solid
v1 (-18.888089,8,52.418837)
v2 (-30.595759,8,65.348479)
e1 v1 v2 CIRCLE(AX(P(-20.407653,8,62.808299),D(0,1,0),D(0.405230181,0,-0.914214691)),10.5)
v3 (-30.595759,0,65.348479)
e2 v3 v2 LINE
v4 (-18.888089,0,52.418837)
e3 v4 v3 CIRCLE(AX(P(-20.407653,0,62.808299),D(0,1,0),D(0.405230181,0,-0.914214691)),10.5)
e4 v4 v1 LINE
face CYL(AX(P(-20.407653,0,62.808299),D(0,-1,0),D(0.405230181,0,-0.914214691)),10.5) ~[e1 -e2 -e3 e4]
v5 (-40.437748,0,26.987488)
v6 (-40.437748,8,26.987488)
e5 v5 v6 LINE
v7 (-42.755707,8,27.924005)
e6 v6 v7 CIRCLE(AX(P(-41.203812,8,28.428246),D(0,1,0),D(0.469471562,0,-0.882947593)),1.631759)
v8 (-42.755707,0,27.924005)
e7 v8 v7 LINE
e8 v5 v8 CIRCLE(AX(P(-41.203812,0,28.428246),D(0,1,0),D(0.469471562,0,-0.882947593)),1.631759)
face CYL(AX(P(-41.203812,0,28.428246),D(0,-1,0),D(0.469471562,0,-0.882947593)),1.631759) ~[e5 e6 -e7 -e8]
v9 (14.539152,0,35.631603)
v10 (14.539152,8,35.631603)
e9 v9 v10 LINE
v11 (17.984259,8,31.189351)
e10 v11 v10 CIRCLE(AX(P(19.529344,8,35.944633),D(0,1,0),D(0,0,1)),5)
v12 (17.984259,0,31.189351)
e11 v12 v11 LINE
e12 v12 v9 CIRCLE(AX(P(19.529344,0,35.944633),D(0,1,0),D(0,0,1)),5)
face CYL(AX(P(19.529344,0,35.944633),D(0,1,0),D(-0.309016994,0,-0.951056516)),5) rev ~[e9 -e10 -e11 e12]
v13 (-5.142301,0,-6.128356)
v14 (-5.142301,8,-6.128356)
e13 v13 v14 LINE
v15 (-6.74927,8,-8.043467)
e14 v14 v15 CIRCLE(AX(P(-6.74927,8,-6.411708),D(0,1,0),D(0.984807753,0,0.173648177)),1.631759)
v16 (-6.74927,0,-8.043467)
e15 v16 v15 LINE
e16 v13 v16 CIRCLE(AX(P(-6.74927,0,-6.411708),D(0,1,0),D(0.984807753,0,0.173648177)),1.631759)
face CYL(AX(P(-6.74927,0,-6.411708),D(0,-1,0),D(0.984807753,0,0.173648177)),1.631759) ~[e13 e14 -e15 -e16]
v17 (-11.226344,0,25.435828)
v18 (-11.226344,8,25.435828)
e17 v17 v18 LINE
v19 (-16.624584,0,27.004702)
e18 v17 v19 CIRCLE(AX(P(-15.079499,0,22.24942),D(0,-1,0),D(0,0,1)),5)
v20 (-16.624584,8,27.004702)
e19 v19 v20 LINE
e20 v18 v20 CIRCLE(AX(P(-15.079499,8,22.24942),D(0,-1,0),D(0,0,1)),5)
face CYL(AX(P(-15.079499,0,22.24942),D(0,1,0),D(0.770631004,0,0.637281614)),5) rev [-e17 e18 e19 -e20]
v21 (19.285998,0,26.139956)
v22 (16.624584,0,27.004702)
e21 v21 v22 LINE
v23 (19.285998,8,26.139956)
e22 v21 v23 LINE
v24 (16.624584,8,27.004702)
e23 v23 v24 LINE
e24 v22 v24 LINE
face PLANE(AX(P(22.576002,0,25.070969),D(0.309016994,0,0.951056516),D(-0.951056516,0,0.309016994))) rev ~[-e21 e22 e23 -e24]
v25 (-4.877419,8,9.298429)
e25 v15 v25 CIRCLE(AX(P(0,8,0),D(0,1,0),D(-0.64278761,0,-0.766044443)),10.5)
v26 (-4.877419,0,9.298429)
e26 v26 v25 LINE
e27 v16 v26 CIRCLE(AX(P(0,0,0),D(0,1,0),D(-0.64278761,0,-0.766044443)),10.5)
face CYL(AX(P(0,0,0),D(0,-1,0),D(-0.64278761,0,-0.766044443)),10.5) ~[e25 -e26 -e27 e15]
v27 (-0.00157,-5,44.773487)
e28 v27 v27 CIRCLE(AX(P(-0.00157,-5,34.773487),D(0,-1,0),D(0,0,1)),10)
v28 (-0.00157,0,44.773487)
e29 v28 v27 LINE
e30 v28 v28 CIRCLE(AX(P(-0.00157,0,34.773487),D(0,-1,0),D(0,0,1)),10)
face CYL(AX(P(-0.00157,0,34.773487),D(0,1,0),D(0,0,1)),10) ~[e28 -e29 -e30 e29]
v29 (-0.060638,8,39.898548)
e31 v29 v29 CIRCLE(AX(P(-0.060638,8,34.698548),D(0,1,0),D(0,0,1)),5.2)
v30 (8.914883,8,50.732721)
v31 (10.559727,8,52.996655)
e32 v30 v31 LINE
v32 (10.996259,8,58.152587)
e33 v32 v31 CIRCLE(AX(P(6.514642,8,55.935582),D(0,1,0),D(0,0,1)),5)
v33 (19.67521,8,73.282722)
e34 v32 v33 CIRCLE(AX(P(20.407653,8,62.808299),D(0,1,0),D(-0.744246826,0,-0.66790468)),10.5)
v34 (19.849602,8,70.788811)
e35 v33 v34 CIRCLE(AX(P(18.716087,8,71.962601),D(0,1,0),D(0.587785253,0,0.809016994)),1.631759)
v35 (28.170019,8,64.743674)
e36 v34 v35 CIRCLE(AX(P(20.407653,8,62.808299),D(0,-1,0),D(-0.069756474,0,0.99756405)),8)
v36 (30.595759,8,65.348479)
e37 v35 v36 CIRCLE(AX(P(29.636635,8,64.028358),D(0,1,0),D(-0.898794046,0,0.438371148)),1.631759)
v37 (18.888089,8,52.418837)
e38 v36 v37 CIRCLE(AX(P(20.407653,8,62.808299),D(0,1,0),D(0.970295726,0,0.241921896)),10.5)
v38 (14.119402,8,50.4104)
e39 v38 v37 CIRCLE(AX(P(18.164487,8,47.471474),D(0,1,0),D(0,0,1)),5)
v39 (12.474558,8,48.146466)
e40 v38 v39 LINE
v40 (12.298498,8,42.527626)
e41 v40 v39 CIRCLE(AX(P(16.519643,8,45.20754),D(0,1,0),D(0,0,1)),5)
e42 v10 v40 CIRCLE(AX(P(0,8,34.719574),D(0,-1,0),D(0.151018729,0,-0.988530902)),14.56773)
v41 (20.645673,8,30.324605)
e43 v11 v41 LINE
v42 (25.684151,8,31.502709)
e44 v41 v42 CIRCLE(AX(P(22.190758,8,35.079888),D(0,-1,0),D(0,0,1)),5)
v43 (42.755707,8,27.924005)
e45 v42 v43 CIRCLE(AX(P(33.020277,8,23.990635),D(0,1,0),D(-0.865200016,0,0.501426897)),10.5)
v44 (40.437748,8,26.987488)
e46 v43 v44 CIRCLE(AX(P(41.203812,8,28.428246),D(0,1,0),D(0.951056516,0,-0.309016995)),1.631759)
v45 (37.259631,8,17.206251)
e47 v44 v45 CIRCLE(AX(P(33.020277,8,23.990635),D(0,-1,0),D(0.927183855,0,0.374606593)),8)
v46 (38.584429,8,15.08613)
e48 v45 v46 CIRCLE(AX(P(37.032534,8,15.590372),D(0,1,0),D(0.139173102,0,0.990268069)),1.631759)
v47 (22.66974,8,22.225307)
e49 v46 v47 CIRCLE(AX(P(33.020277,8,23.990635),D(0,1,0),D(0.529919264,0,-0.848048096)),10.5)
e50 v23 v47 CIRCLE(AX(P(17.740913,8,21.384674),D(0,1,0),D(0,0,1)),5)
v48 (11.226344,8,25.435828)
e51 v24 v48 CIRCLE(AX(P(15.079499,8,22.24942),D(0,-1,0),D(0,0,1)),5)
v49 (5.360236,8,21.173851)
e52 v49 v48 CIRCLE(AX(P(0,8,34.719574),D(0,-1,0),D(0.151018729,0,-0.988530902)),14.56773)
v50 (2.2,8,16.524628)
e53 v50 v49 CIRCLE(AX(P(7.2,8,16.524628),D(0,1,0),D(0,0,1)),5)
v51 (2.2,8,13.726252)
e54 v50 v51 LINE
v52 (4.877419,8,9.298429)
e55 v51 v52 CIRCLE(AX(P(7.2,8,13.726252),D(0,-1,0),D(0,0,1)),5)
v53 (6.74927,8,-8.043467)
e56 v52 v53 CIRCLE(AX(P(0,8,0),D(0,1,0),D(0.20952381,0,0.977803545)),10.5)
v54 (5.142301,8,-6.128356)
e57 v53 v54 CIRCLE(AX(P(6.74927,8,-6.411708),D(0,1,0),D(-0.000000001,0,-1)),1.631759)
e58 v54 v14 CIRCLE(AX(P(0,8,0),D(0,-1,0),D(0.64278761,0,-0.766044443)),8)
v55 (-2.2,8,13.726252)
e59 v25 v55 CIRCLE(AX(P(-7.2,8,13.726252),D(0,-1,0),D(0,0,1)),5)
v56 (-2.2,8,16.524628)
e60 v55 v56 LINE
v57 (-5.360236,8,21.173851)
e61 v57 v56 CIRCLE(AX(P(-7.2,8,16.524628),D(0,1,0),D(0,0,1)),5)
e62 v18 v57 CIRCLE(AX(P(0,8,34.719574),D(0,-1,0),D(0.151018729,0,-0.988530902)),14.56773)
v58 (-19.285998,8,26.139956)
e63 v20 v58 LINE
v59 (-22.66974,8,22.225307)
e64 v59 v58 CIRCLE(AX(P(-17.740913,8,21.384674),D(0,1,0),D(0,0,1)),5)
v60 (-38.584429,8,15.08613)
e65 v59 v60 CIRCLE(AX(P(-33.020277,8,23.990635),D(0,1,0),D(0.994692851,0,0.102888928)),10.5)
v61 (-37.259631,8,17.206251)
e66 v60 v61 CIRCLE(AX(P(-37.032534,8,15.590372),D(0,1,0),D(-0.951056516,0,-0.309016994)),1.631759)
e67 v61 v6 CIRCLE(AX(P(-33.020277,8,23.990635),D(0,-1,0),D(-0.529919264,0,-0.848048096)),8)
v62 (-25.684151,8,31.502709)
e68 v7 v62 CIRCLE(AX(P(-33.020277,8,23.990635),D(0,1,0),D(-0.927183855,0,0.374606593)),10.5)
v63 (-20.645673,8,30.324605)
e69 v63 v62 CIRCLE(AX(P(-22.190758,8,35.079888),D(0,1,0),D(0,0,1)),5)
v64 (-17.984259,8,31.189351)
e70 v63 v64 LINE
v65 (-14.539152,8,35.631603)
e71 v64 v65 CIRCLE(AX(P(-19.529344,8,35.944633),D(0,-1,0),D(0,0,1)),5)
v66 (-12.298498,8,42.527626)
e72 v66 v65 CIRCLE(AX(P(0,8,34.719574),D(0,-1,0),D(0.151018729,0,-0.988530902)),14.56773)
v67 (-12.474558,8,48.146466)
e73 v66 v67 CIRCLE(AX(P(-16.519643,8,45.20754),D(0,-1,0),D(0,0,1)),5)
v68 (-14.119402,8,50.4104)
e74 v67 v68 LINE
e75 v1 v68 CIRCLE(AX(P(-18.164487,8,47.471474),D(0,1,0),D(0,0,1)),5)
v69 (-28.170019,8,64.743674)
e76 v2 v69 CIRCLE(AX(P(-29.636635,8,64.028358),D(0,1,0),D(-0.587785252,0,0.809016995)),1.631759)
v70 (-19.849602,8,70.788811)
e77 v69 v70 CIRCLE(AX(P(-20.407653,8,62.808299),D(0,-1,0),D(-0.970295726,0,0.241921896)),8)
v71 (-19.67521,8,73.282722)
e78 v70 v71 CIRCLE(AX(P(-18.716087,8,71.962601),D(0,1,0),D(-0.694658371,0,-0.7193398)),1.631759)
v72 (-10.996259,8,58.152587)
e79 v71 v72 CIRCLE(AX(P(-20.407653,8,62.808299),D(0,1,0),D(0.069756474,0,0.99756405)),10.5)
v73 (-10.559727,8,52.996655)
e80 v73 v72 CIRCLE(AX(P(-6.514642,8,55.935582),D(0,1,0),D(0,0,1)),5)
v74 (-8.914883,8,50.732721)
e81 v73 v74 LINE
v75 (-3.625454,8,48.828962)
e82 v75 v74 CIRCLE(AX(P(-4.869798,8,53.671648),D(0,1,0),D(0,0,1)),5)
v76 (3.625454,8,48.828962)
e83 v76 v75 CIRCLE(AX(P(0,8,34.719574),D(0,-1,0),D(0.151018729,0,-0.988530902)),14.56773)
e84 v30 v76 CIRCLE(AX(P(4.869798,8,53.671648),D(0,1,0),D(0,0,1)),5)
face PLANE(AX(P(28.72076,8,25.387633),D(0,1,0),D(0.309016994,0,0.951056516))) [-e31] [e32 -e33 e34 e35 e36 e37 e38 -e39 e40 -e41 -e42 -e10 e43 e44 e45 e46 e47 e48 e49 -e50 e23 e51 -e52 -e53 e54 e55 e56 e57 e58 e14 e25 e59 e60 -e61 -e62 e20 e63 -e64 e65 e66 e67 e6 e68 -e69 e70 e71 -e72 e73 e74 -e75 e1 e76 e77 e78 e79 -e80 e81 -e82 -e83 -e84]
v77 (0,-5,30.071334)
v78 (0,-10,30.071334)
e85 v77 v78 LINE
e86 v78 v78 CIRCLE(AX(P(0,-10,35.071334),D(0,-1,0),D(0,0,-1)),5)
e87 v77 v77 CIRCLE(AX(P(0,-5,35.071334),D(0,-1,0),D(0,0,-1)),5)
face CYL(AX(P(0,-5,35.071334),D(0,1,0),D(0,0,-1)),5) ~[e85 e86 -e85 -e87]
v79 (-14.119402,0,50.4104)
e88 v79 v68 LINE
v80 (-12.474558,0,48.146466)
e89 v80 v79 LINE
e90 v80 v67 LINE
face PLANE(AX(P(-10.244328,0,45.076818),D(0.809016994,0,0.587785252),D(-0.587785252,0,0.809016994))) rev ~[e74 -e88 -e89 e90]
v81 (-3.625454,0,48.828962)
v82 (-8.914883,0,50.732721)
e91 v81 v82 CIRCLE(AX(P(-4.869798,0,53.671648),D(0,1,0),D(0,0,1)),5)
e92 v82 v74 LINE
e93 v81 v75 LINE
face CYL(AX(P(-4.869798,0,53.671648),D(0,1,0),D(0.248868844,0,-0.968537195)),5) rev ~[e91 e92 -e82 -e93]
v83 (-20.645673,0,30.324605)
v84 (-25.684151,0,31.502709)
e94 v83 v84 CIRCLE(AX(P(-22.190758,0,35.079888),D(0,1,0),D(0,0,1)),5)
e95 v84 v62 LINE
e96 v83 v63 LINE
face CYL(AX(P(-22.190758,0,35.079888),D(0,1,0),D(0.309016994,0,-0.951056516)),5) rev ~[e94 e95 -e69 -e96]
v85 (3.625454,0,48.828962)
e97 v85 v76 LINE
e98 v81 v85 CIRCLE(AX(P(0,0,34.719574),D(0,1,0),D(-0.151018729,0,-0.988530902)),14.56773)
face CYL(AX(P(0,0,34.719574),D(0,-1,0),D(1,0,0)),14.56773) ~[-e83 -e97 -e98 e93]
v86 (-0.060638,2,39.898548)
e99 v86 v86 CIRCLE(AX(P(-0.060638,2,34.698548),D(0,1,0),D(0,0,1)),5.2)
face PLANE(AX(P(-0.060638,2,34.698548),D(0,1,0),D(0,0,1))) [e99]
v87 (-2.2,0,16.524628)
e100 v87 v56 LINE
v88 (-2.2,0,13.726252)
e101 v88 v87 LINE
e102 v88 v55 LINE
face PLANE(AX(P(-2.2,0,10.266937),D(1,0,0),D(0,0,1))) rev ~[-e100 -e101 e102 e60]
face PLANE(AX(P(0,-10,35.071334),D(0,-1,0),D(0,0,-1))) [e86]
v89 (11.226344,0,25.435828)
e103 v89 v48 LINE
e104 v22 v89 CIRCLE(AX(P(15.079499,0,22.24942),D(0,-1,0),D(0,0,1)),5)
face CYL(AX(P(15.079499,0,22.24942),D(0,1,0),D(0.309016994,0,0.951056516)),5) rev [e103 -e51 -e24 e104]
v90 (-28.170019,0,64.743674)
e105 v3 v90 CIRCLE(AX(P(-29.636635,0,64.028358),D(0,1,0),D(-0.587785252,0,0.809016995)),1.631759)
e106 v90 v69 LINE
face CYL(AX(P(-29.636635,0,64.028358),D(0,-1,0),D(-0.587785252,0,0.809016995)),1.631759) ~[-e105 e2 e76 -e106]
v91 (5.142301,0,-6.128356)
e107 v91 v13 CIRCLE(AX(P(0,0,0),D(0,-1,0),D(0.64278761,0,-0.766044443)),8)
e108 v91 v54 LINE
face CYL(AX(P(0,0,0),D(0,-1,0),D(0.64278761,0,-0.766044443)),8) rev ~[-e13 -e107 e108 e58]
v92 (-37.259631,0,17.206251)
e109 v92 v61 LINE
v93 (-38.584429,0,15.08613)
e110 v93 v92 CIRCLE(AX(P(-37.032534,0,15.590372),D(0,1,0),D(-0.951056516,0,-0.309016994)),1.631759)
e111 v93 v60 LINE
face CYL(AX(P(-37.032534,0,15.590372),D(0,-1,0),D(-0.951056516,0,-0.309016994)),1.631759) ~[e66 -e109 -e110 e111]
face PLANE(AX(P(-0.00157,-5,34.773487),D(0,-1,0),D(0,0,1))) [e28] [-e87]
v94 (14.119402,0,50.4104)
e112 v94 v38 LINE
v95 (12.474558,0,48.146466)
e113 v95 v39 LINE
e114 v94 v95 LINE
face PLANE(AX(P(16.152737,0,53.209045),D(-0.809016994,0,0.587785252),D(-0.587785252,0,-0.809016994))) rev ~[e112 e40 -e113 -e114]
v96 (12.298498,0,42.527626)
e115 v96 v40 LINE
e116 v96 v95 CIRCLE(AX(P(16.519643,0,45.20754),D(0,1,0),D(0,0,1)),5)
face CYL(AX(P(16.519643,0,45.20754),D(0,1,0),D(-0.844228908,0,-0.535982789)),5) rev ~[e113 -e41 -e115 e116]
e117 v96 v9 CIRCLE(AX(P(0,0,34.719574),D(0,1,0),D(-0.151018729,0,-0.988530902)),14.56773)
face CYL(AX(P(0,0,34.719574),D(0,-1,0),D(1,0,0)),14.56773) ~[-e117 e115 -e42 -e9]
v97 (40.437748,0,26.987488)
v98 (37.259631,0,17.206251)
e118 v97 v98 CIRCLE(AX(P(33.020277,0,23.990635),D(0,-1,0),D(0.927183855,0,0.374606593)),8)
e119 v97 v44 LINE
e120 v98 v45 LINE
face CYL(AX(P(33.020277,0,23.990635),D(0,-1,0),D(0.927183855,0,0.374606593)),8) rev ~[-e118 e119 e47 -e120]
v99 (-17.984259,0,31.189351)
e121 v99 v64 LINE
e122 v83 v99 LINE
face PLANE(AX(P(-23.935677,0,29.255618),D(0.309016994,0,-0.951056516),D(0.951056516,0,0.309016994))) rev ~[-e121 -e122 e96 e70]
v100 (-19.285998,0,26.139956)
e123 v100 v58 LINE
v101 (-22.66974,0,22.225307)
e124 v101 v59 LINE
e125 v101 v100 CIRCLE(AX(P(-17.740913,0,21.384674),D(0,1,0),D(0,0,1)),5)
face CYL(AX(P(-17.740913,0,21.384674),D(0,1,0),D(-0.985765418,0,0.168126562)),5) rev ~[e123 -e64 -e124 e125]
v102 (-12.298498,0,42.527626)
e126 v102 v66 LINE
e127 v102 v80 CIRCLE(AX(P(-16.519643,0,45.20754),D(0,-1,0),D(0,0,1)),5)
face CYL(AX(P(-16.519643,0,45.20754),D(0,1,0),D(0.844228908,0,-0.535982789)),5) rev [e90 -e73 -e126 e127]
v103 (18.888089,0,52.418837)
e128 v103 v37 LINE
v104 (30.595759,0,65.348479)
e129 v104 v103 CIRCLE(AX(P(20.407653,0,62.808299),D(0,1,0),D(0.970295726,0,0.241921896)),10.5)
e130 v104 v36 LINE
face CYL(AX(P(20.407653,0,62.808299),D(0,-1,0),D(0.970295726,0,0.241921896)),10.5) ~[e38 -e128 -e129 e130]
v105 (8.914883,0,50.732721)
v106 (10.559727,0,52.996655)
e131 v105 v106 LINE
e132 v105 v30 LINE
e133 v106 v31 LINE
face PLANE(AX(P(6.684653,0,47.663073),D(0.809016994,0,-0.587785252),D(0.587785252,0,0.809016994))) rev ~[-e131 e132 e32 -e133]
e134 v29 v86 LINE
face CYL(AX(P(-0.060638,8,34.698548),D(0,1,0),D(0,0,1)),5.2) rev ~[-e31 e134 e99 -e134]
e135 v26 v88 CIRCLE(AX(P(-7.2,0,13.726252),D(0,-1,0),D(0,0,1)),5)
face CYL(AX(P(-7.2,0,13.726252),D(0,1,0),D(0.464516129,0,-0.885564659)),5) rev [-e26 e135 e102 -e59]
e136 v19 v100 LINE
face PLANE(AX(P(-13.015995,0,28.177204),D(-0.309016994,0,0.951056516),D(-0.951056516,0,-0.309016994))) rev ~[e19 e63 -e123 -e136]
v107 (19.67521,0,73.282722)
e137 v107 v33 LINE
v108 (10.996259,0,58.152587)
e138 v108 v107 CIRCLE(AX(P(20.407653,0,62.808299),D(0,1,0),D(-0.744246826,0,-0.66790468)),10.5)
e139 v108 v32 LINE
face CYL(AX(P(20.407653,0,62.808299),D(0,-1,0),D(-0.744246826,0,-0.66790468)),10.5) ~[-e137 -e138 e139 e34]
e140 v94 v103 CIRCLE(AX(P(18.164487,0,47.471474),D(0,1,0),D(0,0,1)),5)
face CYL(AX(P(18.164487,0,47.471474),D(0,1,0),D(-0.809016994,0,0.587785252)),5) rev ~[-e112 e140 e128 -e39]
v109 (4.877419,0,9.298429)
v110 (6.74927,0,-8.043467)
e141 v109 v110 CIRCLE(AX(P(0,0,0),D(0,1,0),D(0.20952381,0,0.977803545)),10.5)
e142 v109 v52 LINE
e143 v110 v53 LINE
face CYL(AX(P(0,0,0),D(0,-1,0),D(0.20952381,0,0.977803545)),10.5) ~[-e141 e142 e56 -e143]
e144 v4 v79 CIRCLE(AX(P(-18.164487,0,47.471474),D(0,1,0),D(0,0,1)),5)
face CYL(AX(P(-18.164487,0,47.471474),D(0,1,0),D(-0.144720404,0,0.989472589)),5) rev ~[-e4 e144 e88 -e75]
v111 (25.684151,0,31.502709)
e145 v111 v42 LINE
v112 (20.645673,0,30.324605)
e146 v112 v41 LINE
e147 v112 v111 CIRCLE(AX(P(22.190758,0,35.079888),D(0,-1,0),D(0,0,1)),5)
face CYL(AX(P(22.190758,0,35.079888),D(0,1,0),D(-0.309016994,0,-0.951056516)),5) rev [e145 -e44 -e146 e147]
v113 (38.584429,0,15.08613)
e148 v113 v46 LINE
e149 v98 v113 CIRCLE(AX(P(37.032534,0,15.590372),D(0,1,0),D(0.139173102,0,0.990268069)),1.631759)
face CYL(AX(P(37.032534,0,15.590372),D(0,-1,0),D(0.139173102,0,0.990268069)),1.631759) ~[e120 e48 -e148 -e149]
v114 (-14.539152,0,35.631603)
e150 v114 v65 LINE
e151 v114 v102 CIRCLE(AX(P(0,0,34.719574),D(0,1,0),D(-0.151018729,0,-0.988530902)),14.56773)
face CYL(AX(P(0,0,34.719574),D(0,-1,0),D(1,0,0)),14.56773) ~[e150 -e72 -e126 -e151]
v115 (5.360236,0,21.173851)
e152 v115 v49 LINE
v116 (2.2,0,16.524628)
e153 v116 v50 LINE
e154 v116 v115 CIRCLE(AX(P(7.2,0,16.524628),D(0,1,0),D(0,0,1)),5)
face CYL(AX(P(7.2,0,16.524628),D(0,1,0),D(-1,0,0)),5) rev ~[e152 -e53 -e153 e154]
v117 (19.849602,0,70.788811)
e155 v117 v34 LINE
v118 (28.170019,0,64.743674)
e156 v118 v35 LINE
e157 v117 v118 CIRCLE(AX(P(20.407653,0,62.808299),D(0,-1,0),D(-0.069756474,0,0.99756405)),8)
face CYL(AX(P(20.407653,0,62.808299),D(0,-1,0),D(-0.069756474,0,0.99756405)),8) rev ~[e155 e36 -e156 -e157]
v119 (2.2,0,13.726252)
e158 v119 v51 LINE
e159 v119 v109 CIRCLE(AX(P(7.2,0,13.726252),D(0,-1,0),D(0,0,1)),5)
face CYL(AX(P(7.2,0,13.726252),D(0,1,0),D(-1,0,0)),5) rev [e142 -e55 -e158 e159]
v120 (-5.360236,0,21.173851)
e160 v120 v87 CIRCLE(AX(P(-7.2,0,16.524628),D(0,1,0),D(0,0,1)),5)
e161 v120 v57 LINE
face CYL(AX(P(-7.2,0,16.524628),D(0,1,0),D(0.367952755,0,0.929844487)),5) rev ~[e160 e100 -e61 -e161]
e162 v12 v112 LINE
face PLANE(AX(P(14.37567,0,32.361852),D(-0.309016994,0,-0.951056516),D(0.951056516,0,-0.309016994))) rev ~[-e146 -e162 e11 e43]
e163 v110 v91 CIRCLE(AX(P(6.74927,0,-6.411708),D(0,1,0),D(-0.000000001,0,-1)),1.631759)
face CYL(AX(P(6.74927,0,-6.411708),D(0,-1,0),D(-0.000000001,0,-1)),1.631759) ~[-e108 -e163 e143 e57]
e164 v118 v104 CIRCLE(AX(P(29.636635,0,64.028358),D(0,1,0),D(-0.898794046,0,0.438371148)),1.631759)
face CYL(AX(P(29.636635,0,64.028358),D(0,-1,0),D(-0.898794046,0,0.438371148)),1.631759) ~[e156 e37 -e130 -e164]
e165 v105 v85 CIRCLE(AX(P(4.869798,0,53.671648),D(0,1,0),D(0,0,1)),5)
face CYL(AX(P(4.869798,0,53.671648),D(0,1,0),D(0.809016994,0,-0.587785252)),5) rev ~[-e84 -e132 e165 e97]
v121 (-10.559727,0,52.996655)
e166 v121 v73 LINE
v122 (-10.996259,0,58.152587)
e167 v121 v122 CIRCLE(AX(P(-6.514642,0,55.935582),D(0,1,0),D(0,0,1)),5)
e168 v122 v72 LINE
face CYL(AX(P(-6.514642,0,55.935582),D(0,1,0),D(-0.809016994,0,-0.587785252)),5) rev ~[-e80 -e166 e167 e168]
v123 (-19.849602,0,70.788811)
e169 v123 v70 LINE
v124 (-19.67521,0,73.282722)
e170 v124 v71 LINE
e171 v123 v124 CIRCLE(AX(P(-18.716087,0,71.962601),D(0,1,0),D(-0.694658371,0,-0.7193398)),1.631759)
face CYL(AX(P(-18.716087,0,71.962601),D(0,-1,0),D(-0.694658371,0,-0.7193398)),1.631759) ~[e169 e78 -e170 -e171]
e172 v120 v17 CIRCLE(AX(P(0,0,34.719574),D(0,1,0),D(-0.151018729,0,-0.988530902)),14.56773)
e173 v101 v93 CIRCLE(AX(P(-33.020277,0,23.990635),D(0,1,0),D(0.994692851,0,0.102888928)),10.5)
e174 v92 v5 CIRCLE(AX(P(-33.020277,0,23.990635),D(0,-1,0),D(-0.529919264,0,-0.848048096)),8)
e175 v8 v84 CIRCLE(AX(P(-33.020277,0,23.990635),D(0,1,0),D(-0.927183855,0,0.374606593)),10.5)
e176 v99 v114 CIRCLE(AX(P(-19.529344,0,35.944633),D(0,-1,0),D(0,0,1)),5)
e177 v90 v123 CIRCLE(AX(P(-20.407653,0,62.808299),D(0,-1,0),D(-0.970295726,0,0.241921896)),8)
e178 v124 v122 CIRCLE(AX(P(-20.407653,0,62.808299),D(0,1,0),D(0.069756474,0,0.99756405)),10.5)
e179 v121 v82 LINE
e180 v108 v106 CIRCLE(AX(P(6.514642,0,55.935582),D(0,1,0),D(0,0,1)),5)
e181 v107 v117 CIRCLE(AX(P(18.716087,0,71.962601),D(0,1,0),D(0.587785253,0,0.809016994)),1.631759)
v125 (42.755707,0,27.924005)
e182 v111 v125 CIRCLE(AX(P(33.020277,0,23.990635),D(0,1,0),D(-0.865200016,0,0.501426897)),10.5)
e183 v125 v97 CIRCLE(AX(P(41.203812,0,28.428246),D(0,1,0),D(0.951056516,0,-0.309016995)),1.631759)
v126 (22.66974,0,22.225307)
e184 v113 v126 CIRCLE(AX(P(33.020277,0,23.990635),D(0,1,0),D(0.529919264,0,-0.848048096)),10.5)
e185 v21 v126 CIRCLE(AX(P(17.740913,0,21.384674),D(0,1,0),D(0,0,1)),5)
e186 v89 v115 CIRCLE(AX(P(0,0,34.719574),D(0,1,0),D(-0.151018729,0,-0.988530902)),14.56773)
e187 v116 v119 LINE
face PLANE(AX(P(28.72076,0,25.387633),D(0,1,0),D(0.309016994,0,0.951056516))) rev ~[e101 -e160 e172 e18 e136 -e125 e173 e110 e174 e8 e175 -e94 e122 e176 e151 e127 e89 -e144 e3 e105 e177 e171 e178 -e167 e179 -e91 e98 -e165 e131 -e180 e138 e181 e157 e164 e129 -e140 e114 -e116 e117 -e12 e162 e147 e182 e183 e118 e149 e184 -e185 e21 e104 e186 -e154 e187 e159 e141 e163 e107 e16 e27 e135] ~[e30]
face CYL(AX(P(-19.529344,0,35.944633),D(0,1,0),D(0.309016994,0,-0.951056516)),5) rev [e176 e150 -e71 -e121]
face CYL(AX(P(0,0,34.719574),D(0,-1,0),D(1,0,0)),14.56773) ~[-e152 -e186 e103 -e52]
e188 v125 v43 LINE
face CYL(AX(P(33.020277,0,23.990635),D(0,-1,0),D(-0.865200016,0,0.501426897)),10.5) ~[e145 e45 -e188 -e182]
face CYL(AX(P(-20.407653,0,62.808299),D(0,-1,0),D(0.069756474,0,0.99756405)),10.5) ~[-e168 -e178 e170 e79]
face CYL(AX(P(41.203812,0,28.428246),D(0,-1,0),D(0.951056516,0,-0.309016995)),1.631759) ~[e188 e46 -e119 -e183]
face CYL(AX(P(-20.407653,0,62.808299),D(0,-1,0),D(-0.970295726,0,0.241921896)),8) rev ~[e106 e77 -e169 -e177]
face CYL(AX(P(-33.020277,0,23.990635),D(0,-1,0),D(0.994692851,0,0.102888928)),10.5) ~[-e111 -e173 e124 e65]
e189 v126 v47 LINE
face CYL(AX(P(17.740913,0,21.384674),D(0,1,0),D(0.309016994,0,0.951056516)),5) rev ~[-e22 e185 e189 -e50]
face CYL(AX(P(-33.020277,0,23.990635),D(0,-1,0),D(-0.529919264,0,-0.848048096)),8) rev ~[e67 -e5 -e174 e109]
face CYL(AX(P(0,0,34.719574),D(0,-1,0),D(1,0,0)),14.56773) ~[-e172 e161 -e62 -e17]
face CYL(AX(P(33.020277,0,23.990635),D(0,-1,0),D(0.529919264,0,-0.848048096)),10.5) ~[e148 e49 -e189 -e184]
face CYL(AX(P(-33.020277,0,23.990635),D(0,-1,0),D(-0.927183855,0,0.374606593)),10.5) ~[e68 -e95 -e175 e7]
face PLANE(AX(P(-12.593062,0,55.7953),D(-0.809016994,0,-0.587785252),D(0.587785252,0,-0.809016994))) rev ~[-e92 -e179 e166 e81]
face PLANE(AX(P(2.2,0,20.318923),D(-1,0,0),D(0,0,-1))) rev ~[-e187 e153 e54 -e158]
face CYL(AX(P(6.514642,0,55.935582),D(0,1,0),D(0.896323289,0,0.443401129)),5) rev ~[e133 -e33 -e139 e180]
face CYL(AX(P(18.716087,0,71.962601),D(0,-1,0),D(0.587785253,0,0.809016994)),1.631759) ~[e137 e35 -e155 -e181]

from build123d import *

# Parameters (mm, degrees)
BOSS_EXTRU_1_DEPTH                 = 8
ESQUISSE5_R                        = 14.567729557
BOSS_EXTRU_2_DEPTH                 = 8
CONG_1_R                           = 5
CONG_2_R                           = 5
R_P_TITION_CIRCULAIRE8_COUNT       = 5
CONG_1_OF_R_P_TITION_CIRCULAIRE8_R = 5
CONG_2_OF_R_P_TITION_CIRCULAIRE8_R = 5
ESQUISSE9_R                        = 10
BOSS_EXTRU_4_DEPTH                 = 5
ESQUISSE10_R                       = 5
BOSS_EXTRU_5_DEPTH                 = 5
ESQUISSE12_R                       = 5.2
ENL_V_MAT_EXTRU_3_DEPTH            = 6


with BuildPart() as part:
    # Esquisse4 → Boss.-Extru.1 (new body)
    with BuildSketch(Plane(origin=(0, 0, 0), x_dir=(1, 0, 0), z_dir=(0, 1, 0))):
        with BuildLine():
            Line((2.2, -20.318922986), (2.2, -10.266937226))
            ThreePointArc((2.2, -10.266937226), (10.190195312, -2.531781884), (6.749269902, 8.043466653))
            ThreePointArc((6.749269902, 8.043466653), (5.499269902, 7.46058208), (5.142300877, 6.128355545))
            ThreePointArc((5.142300877, 6.128355545), (0, -8), (-5.142300877, 6.128355545))
            ThreePointArc((-5.142300877, 6.128355545), (-5.499269902, 7.46058208), (-6.749269902, 8.043466653))
            ThreePointArc((-6.749269902, 8.043466653), (-10.190195312, -2.531781884), (-2.2, -10.266937226))
            Line((-2.2, -10.266937226), (-2.2, -20.318922986))
            ThreePointArc((-2.2, -20.318922986), (0, -20.179612502), (2.2, -20.318922986))
        make_face()
    boss_extru_1 = extrude(amount=BOSS_EXTRU_1_DEPTH)

    # Esquisse5 → Boss.-Extru.2 (add)
    with BuildSketch(Plane(origin=(0, 0, 0), x_dir=(1, 0, 0), z_dir=(0, 1, 0))):
        with Locations((0, -34.71957382)):
            Circle(ESQUISSE5_R)
    extrude(amount=BOSS_EXTRU_2_DEPTH)

    # Congé1
    cong_1_edges = [part.edges().sort_by_distance(p)[0] for p in [
        (2.2, 4, 10.266937226),
        (-2.2, 4, 10.266937226),
    ]]
    fillet(cong_1_edges, radius=CONG_1_R)

    # Congé2
    cong_2_edges = [part.edges().sort_by_distance(p)[0] for p in [
        (2.2, 4, 20.318922986),
        (-2.2, 4, 20.318922986),
    ]]
    fillet(cong_2_edges, radius=CONG_2_R)

    # Répétition circulaire8: Boss.-Extru.1 ×5 about axis
    r_p_tition_circulaire8_axis = Axis((0, 0, 34.71957382), (0, 1, 0))
    for i in range(1, R_P_TITION_CIRCULAIRE8_COUNT):
        add(boss_extru_1.rotate(r_p_tition_circulaire8_axis, i * 360 / R_P_TITION_CIRCULAIRE8_COUNT))

    # Congé1 of Répétition circulaire8
    cong_1_of_r_p_tition_circulaire8_edges = [part.edges().sort_by_distance(p)[0] for p in [
        (-22.576001986, 4, 25.070969219),
        (-23.935676761, 4, 29.255617891),
        (-16.152736557, 4, 53.209044827),
        (-12.593061782, 4, 55.795299938),
        (12.593061782, 4, 55.795299938),
        (16.152736557, 4, 53.209044827),
        (23.935676761, 4, 29.255617891),
        (22.576001986, 4, 25.070969219),
    ]]
    fillet(cong_1_of_r_p_tition_circulaire8_edges, radius=CONG_1_OF_R_P_TITION_CIRCULAIRE8_R)

    # Congé2 of Répétition circulaire8
    cong_2_of_r_p_tition_circulaire8_edges = [part.edges().sort_by_distance(p)[0] for p in [
        (-13.015995427, 4, 28.177203647),
        (-14.375670202, 4, 32.361852318),
        (-10.244327571, 4, 45.07681752),
        (-6.684652796, 4, 47.66307263),
        (6.684652796, 4, 47.66307263),
        (10.244327571, 4, 45.07681752),
        (14.375670202, 4, 32.361852318),
        (13.015995427, 4, 28.177203647),
    ]]
    fillet(cong_2_of_r_p_tition_circulaire8_edges, radius=CONG_2_OF_R_P_TITION_CIRCULAIRE8_R)

    # Esquisse9 → Boss.-Extru.4 (add)
    with BuildSketch(Plane.XZ):
        with Locations(Location((-0.001570364, 34.773487041, 0), (0, 0, 90))):
            Circle(ESQUISSE9_R)
    extrude(amount=BOSS_EXTRU_4_DEPTH)

    # Esquisse10 → Boss.-Extru.5 (add)
    with BuildSketch(Plane.XZ.offset(5)):
        with Locations(Location((0, 35.07133439, 0), (0, 0, 270))):
            Circle(ESQUISSE10_R)
    extrude(amount=BOSS_EXTRU_5_DEPTH)

    # Esquisse12 → Enlèv. mat.-Extru.3 (cut)
    with BuildSketch(Plane(origin=(0, 8, 0), x_dir=(1, 0, 0), z_dir=(0, 1, 0))):
        with Locations(Location((-0.060638465, -34.698547828, 0), (0, 0, 270))):
            Circle(ESQUISSE12_R)
    extrude(amount=-ENL_V_MAT_EXTRU_3_DEPTH, mode=Mode.SUBTRACT)


solid = part.part
